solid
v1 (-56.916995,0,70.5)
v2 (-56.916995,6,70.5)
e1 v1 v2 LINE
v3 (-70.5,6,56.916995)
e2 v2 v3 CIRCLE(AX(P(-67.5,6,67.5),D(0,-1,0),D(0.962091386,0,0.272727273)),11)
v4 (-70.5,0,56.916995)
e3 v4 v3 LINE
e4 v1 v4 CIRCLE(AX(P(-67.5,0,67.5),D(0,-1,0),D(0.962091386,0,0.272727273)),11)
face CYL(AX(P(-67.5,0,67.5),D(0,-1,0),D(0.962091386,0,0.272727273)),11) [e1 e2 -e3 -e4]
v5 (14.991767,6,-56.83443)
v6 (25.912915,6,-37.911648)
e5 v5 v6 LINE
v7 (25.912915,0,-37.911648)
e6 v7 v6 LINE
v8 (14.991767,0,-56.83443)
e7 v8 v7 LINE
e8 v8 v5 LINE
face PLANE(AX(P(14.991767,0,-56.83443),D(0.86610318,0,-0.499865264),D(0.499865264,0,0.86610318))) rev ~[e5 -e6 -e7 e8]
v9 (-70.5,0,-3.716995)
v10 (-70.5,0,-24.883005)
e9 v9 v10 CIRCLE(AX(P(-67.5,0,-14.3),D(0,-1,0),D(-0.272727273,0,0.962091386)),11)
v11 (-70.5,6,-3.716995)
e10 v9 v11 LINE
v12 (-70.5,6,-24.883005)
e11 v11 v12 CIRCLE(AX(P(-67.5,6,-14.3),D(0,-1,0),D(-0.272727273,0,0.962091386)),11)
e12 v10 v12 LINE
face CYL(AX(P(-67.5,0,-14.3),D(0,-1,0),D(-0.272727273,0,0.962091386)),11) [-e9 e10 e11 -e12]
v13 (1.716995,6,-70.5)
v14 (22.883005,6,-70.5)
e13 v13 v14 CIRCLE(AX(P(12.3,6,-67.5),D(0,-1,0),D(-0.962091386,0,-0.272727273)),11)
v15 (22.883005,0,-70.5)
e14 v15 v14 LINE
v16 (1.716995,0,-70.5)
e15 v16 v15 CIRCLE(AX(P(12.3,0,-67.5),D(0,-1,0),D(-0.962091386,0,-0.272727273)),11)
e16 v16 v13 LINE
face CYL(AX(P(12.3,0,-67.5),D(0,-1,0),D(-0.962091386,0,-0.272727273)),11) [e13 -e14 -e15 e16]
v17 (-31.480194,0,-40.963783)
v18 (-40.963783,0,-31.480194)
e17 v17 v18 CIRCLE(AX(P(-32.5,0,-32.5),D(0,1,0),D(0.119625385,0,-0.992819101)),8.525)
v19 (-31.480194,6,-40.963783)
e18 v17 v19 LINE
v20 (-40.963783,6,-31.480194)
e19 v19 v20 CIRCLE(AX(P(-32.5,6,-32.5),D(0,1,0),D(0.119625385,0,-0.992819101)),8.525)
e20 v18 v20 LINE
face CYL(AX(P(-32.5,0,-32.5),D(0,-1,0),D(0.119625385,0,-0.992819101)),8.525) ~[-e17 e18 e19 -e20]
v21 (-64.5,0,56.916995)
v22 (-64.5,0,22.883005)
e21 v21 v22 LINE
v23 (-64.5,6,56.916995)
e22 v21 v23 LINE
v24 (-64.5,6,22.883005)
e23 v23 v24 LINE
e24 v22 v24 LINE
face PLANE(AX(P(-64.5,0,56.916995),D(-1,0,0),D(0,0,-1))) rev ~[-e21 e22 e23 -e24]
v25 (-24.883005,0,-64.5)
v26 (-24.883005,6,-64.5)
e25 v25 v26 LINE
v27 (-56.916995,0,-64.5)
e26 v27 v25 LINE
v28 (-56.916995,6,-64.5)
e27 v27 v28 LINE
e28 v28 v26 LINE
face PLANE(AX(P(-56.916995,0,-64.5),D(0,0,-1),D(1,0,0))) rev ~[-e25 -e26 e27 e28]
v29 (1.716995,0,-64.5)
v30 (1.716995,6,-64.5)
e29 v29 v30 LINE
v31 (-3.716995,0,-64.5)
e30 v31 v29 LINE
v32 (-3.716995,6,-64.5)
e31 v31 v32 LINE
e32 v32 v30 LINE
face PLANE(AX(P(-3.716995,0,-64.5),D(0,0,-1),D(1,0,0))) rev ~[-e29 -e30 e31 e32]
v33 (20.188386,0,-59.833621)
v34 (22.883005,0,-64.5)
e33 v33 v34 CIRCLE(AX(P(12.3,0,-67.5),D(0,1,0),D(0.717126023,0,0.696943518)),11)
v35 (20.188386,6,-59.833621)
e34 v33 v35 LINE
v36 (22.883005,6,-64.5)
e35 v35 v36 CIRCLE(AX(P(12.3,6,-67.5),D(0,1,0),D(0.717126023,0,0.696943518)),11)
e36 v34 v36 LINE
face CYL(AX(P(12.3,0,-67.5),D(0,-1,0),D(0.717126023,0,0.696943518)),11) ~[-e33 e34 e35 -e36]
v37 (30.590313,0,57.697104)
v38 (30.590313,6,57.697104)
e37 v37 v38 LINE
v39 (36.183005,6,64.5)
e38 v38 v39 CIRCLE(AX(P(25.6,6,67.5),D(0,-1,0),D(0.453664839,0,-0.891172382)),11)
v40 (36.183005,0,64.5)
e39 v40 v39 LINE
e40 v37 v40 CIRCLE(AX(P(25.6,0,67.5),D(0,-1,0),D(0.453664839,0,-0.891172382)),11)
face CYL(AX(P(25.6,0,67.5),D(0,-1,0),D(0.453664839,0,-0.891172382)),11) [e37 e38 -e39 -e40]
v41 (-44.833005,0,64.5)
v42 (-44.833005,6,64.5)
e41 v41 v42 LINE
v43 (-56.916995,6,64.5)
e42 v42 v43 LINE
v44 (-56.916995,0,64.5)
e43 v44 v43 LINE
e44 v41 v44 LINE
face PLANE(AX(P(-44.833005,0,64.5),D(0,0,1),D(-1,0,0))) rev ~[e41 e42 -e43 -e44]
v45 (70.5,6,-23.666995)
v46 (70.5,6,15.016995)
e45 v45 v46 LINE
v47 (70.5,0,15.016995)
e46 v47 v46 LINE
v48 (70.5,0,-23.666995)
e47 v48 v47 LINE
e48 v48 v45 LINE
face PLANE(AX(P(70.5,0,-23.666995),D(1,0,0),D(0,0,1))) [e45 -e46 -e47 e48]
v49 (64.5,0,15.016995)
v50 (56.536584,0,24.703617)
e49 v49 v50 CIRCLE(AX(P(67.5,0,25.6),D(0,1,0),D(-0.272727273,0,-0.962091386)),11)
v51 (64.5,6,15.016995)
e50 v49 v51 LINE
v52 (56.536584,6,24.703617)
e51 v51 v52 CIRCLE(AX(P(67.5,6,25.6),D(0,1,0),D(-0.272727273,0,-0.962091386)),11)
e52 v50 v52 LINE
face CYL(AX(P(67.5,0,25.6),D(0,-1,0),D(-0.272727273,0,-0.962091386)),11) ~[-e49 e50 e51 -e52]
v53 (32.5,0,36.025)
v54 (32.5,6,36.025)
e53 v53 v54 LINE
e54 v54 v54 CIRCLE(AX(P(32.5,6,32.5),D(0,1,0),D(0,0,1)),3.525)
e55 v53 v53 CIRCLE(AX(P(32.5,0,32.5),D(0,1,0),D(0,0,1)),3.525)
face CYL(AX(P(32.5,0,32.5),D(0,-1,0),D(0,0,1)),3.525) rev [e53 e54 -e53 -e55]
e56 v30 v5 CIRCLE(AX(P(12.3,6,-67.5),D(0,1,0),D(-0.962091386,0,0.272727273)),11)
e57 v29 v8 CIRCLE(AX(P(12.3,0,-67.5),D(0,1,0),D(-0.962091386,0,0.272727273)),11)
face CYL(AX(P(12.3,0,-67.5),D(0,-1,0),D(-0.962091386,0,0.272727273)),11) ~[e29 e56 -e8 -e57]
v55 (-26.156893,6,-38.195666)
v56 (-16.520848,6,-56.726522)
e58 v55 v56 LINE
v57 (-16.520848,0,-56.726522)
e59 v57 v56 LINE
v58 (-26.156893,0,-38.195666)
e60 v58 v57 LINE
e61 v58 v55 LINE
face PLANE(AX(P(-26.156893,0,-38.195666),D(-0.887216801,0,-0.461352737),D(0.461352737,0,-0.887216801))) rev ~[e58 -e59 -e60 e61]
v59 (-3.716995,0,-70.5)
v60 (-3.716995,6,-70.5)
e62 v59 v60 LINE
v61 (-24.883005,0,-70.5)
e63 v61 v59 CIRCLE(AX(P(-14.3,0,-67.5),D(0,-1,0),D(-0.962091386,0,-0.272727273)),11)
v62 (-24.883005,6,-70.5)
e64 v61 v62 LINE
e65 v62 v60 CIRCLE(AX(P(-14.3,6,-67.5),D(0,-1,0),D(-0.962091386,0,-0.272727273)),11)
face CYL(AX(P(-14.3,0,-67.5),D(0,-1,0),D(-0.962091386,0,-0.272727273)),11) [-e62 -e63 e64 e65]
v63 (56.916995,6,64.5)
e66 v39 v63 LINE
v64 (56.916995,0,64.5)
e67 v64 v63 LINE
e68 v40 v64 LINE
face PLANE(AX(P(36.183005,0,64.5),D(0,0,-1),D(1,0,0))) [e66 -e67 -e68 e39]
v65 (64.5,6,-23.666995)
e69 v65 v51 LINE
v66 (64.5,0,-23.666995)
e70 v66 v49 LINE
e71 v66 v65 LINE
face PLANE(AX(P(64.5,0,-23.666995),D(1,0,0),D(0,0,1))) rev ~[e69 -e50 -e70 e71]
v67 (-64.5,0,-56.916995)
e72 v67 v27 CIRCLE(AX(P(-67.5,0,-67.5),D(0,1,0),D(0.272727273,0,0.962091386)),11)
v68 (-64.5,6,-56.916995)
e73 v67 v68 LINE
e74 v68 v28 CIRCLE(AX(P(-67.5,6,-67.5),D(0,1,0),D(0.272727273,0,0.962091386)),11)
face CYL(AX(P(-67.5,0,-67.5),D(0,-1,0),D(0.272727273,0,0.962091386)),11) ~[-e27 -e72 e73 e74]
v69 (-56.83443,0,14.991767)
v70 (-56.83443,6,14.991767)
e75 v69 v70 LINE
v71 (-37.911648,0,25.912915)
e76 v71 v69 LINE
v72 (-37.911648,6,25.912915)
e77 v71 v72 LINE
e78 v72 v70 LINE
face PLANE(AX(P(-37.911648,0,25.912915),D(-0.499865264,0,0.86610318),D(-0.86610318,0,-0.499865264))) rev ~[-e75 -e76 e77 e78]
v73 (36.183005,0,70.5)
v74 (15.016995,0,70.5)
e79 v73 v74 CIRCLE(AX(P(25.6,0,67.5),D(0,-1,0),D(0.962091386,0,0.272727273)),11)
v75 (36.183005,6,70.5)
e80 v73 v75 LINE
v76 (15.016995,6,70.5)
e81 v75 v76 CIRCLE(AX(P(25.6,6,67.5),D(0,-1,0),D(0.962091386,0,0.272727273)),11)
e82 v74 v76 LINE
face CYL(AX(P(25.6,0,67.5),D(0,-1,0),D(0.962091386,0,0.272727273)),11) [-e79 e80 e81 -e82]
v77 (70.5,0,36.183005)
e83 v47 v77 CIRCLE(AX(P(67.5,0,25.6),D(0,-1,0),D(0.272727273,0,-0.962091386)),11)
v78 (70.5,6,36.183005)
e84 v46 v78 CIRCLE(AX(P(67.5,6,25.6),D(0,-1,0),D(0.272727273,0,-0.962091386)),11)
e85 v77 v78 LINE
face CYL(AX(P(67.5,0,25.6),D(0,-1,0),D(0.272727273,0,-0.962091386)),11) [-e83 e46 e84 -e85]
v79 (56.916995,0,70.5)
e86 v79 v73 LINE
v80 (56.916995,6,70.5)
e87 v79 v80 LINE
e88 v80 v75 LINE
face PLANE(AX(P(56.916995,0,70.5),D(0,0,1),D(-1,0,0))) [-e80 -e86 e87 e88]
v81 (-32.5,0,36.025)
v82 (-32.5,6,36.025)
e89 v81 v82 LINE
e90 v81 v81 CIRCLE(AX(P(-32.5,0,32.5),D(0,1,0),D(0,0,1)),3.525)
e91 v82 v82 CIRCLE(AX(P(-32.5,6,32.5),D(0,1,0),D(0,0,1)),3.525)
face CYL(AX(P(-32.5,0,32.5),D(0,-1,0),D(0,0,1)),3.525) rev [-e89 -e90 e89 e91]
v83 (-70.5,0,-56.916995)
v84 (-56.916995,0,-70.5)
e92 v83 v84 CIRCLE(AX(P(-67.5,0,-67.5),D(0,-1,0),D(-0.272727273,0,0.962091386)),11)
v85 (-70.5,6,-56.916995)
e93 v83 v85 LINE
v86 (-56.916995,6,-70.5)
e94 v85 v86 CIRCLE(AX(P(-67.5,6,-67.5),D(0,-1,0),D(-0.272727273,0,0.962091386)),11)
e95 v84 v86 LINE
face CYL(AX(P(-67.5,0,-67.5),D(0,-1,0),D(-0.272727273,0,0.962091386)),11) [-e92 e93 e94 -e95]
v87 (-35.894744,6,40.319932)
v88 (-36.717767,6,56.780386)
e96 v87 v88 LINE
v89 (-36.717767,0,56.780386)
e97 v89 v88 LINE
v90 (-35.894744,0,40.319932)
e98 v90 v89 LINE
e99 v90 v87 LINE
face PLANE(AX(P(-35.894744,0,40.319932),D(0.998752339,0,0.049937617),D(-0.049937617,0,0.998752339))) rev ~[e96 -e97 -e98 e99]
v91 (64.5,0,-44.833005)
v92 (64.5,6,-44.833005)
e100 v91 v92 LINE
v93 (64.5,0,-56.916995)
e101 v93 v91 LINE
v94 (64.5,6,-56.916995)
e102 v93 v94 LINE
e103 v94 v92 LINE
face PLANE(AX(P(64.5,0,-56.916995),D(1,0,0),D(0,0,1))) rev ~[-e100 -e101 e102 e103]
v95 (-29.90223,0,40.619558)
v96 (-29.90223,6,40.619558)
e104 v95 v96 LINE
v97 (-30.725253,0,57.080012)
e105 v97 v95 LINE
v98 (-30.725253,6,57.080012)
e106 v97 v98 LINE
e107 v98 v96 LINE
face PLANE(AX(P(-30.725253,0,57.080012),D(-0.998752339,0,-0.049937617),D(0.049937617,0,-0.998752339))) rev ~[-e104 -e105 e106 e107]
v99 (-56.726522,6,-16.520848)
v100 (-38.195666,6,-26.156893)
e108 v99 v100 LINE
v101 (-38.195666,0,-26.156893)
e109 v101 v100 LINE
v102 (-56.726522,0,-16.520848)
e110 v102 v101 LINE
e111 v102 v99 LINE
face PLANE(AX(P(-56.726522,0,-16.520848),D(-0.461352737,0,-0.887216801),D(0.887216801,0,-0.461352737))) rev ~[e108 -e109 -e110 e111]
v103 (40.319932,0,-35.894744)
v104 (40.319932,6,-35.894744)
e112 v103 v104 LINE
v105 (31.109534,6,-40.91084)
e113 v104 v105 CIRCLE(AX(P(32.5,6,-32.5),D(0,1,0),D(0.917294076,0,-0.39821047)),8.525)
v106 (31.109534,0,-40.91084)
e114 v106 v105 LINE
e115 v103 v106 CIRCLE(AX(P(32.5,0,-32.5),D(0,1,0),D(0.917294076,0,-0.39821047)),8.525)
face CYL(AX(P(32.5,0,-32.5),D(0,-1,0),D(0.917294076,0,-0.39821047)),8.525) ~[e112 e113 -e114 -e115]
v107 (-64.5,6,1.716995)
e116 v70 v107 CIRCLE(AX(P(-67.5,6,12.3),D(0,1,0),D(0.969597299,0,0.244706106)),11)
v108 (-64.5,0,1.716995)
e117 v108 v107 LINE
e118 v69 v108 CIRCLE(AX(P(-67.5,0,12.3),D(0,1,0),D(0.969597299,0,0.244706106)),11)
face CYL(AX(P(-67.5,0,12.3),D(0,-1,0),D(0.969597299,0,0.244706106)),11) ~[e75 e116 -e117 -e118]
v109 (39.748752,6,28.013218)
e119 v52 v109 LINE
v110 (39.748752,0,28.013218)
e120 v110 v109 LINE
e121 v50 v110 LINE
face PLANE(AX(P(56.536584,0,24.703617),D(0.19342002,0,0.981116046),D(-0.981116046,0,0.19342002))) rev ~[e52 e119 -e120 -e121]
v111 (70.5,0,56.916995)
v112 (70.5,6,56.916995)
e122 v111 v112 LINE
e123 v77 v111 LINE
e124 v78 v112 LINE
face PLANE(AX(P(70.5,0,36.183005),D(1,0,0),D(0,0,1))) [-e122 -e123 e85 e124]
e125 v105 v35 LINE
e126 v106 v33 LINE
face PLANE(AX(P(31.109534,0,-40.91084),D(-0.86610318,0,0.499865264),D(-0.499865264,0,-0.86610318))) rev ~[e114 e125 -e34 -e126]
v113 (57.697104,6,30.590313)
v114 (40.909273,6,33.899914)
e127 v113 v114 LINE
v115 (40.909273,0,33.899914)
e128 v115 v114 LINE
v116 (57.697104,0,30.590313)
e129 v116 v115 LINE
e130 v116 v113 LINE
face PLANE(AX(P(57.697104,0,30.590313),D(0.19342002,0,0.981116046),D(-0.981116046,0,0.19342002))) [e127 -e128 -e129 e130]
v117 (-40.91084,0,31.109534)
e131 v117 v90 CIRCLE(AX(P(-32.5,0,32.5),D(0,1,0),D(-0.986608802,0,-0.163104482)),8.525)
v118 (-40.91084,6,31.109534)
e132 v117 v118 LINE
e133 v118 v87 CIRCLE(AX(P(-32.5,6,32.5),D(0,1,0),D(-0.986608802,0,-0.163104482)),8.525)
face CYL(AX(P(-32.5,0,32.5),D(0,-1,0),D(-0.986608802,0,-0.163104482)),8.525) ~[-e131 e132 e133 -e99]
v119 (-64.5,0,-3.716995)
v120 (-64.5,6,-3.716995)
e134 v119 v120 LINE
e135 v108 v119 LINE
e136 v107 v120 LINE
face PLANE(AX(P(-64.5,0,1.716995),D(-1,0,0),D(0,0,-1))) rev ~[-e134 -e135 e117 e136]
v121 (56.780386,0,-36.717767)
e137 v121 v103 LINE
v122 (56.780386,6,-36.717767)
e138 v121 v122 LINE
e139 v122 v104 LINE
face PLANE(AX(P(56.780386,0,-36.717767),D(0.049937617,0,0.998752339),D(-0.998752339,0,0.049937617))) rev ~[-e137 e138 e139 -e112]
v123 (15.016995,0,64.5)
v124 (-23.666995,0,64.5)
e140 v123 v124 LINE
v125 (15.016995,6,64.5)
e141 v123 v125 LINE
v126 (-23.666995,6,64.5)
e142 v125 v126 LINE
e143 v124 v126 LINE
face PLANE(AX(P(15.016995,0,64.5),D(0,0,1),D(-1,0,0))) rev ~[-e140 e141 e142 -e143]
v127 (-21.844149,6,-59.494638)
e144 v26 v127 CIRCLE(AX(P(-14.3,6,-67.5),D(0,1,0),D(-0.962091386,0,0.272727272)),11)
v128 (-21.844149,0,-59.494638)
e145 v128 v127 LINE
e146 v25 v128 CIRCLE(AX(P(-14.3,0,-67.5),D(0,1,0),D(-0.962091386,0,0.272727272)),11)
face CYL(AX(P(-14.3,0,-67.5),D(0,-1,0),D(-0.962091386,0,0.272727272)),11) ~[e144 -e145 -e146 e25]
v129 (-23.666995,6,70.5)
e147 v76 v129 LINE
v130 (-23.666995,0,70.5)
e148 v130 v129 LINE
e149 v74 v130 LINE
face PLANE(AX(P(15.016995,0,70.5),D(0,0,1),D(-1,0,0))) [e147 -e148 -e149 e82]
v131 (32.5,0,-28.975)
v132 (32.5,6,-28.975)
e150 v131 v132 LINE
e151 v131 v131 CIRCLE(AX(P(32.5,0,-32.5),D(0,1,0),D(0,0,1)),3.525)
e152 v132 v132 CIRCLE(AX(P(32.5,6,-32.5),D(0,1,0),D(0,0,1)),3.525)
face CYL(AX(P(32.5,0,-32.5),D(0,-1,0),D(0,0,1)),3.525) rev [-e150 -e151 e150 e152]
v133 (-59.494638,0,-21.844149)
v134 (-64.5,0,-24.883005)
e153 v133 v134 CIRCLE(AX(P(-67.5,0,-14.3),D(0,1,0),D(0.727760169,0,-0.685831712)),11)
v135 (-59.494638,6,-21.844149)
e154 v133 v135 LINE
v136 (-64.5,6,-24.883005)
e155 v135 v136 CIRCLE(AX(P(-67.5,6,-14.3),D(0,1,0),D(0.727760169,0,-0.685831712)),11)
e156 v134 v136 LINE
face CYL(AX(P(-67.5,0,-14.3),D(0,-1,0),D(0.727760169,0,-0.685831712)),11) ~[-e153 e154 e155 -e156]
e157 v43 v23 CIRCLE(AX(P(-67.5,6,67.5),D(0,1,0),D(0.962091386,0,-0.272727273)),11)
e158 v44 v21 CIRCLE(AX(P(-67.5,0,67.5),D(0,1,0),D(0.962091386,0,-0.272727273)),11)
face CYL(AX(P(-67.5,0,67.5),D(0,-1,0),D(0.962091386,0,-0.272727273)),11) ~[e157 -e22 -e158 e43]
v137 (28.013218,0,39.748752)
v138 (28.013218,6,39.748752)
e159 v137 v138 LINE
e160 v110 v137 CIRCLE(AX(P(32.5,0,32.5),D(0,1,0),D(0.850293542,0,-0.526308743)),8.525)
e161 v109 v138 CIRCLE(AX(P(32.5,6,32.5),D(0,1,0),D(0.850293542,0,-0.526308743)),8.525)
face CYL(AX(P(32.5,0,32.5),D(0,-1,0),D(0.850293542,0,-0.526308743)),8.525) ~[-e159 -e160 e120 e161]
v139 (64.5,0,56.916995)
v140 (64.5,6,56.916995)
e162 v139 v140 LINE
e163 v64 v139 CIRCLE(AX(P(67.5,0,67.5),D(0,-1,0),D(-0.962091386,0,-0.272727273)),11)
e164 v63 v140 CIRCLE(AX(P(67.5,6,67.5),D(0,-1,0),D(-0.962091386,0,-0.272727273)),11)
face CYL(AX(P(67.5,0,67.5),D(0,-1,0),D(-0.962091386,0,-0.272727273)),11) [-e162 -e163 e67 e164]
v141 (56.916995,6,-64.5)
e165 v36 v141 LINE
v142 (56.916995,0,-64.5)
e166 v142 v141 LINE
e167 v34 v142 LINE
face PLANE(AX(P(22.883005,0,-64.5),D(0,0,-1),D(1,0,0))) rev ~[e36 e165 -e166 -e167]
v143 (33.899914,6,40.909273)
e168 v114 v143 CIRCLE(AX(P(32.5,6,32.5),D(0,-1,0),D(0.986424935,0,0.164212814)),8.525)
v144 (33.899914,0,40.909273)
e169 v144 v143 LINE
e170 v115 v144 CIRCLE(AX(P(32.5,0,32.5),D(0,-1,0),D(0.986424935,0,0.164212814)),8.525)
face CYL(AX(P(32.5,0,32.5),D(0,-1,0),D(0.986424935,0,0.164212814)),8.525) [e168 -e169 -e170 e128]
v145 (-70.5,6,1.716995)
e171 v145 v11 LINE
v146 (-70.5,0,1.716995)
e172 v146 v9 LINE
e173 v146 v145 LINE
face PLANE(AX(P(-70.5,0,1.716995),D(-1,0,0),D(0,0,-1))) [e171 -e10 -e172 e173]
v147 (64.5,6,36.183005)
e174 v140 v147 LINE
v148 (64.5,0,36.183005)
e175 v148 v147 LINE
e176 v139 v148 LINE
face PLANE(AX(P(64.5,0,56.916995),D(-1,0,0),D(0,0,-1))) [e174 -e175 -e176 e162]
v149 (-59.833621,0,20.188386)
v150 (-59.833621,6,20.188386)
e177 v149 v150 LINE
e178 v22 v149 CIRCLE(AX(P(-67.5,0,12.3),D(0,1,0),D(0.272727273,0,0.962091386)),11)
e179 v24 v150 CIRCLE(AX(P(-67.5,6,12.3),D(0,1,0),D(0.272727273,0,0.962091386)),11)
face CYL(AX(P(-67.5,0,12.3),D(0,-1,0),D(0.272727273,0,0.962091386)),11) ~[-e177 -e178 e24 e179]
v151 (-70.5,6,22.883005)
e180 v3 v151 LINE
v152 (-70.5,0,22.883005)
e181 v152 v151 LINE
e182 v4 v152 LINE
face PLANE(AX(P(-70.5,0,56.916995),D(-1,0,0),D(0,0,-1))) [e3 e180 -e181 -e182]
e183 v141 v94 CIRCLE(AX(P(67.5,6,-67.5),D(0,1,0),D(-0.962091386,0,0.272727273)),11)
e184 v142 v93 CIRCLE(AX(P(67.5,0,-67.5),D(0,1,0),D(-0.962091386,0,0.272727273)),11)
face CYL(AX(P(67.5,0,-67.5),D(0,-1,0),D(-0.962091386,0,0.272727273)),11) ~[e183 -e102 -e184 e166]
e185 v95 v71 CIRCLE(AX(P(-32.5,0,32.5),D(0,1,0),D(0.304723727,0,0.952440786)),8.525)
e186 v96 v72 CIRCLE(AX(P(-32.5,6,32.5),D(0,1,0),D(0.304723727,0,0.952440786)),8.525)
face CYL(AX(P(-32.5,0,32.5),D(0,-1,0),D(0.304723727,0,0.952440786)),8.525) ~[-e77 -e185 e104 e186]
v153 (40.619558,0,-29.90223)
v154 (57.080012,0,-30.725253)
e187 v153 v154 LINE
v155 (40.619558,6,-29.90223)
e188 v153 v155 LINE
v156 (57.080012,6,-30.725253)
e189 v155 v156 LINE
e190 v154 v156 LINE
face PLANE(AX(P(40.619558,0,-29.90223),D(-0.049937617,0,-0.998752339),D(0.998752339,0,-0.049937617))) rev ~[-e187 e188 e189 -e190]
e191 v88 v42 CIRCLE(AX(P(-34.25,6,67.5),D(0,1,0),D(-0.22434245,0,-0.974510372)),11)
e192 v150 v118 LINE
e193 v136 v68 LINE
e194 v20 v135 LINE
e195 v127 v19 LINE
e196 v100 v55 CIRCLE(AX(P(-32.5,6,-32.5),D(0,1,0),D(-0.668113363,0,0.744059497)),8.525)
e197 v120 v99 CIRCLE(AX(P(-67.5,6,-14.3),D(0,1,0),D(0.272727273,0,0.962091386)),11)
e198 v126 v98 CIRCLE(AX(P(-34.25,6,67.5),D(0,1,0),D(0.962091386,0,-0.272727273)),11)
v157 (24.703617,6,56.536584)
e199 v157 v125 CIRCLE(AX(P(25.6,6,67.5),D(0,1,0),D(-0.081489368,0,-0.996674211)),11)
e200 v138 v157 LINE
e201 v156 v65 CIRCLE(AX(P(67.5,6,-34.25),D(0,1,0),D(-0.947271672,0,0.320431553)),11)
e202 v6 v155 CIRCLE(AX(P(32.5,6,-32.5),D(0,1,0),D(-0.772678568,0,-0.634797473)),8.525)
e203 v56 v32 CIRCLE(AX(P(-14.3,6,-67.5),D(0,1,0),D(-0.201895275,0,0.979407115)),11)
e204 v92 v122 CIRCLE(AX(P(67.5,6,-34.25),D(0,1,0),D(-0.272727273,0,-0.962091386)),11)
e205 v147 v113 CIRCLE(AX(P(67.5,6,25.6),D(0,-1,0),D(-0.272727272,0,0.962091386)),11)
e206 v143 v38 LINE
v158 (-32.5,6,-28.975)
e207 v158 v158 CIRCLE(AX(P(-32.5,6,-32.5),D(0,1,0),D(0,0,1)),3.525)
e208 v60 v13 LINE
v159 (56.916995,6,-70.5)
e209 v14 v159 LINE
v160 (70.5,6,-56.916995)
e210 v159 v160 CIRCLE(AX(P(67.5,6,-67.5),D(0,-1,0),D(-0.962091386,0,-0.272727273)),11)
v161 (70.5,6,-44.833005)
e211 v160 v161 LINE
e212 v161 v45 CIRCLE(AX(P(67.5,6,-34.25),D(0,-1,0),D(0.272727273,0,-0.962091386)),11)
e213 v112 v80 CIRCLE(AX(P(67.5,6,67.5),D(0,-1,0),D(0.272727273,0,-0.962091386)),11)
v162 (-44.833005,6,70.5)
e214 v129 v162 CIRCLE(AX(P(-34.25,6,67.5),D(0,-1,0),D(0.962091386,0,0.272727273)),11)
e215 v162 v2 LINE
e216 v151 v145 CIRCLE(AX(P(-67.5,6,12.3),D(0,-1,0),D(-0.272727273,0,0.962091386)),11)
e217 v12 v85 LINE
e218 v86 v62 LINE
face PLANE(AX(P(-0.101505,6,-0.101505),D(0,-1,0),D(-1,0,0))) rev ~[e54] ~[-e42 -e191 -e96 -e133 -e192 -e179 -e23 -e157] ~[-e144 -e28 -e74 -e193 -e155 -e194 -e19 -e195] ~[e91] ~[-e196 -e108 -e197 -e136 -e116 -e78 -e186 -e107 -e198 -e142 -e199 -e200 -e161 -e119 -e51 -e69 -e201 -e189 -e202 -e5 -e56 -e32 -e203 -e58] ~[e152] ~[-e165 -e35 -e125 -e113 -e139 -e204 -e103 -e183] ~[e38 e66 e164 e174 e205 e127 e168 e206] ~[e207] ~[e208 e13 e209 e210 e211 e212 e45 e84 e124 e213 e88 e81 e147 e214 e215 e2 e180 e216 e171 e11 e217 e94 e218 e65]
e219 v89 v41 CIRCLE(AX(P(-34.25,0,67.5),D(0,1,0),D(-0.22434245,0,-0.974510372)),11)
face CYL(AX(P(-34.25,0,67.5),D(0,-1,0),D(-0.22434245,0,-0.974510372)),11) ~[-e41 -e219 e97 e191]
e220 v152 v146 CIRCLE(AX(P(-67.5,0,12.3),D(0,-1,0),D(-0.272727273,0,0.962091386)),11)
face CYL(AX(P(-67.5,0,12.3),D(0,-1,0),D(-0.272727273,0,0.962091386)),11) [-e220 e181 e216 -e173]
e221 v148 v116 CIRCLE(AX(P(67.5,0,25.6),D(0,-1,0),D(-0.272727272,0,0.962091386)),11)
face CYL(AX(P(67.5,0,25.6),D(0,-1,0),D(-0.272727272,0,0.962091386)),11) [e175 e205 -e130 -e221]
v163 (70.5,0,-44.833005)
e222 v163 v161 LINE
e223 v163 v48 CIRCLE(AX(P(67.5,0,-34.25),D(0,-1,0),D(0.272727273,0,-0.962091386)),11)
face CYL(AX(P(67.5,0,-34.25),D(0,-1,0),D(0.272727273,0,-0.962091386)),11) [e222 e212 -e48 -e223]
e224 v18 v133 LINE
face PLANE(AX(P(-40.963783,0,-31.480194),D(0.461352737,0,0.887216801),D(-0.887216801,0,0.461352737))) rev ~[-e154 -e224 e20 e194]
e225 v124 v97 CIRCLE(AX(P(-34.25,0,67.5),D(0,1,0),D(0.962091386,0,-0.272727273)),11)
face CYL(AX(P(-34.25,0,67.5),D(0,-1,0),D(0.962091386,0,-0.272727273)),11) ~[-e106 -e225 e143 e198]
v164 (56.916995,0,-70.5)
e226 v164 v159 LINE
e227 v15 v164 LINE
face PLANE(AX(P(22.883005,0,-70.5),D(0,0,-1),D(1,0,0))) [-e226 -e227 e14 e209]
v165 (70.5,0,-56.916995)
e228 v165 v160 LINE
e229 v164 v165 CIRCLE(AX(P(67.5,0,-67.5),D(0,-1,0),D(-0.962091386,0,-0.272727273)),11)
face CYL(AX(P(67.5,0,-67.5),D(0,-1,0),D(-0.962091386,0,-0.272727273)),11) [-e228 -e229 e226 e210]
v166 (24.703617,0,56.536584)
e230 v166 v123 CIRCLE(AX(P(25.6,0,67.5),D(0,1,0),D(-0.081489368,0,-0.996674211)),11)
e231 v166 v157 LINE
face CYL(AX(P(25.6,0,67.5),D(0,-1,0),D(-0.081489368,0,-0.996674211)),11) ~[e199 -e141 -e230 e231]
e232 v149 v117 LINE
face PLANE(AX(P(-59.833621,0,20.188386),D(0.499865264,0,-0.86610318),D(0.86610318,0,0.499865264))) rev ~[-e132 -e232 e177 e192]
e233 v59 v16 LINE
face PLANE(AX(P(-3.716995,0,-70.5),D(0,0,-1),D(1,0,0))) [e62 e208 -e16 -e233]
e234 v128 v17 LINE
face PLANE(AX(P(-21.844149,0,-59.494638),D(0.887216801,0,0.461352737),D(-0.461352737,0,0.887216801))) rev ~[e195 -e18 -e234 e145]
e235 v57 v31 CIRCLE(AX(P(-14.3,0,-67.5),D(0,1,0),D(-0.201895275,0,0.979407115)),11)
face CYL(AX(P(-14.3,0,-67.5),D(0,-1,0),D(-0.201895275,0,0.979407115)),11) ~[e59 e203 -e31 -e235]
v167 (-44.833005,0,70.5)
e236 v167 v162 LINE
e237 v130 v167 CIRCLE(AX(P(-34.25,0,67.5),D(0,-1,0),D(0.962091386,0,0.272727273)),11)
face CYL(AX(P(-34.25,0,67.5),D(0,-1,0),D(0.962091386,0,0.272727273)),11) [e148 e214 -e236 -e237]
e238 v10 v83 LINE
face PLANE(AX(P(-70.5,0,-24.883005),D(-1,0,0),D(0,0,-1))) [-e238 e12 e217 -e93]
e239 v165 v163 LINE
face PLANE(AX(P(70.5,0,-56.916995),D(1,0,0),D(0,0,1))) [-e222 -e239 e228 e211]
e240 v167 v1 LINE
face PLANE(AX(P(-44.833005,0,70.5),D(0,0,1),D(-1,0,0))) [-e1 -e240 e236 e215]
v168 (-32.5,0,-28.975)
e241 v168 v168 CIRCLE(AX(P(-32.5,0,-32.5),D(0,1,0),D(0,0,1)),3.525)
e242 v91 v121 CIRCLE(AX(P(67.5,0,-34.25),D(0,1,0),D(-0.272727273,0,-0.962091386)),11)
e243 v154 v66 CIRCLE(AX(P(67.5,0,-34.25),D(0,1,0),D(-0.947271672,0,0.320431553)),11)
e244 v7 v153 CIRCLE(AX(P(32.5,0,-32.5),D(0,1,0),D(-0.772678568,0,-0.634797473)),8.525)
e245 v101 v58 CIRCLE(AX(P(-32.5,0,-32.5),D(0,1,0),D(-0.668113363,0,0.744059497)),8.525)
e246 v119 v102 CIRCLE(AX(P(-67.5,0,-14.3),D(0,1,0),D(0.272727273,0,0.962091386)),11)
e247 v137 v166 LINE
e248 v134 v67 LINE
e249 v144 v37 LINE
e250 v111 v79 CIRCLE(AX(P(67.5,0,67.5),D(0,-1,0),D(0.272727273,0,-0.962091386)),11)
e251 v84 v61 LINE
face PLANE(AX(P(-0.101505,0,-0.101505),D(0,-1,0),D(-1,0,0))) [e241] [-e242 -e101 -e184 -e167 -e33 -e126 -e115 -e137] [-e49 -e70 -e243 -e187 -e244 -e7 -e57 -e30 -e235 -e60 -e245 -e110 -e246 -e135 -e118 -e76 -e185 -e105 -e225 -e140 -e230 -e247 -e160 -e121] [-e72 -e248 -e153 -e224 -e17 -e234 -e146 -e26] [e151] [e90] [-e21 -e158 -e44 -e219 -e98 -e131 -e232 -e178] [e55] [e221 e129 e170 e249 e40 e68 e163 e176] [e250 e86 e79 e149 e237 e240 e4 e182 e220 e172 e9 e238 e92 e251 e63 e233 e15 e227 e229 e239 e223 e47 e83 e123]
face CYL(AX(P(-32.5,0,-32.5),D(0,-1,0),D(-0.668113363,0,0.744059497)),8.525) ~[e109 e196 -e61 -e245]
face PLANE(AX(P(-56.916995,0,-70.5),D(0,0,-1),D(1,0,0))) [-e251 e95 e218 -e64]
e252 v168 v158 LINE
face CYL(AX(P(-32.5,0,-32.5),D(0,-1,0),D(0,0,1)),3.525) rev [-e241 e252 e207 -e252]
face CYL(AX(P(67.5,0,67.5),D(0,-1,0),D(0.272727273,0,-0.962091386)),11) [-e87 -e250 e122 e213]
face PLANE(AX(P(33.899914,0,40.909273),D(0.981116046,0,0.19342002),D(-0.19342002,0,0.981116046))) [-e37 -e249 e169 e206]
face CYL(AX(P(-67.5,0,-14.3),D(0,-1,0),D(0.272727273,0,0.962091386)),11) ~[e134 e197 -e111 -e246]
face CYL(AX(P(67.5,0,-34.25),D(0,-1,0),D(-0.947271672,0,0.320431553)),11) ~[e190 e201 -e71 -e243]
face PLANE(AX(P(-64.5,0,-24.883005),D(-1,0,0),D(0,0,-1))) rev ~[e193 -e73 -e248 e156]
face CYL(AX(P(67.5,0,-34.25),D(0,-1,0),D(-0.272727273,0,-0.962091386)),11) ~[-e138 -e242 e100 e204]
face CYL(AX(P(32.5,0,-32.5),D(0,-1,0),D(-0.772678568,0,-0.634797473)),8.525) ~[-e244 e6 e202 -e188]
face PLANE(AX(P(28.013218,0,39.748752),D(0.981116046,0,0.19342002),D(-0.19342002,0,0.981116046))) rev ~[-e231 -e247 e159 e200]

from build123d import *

# Parameters (mm, degrees)
SKETCH1_R           = 3.525
BOSS_EXTRUDE1_DEPTH = 6


with BuildPart() as part:
    # Sketch1 → Boss-Extrude1 (new body)
    with BuildSketch(Plane(origin=(0, 0, 0), x_dir=(1, 0, 0), z_dir=(0, 1, 0))):
        with BuildLine():
            Line((-56.916994756, 70.5), (-24.883005244, 70.5))
            ThreePointArc((-24.883005244, 70.5), (-14.3, 78.5), (-3.716994756, 70.5))
            Line((-3.716994756, 70.5), (1.716994756, 70.5))
            ThreePointArc((1.716994756, 70.5), (12.3, 78.5), (22.883005244, 70.5))
            Line((22.883005244, 70.5), (56.916994756, 70.5))
            ThreePointArc((56.916994756, 70.5), (75.278174593, 75.278174593), (70.5, 56.916994756))
            Line((70.5, 56.916994756), (70.5, 44.833005244))
            ThreePointArc((70.5, 44.833005244), (78.5, 34.25), (70.5, 23.666994756))
            Line((70.5, 23.666994756), (70.5, -15.016994756))
            ThreePointArc((70.5, -15.016994756), (78.5, -25.6), (70.5, -36.183005244))
            Line((70.5, -36.183005244), (70.5, -56.916994756))
            ThreePointArc((70.5, -56.916994756), (75.278174593, -75.278174593), (56.916994756, -70.5))
            Line((56.916994756, -70.5), (36.183005244, -70.5))
            ThreePointArc((36.183005244, -70.5), (25.6, -78.5), (15.016994756, -70.5))
            Line((15.016994756, -70.5), (-23.666994756, -70.5))
            ThreePointArc((-23.666994756, -70.5), (-34.25, -78.5), (-44.833005244, -70.5))
            Line((-44.833005244, -70.5), (-56.916994756, -70.5))
            ThreePointArc((-56.916994756, -70.5), (-75.278174593, -75.278174593), (-70.5, -56.916994756))
            Line((-70.5, -56.916994756), (-70.5, -22.883005244))
            ThreePointArc((-70.5, -22.883005244), (-78.5, -12.3), (-70.5, -1.716994756))
            Line((-70.5, -1.716994756), (-70.5, 3.716994756))
            ThreePointArc((-70.5, 3.716994756), (-78.5, 14.3), (-70.5, 24.883005244))
            Line((-70.5, 24.883005244), (-70.5, 56.916994756))
            ThreePointArc((-70.5, 56.916994756), (-75.278174593, 75.278174593), (-56.916994756, 70.5))
        make_face()
        with Locations(Location((-32.5, 32.5, 0), (0, 0, 270))):
            Circle(SKETCH1_R, mode=Mode.SUBTRACT)
        with Locations(Location((32.5, 32.5, 0), (0, 0, 270))):
            Circle(SKETCH1_R, mode=Mode.SUBTRACT)
        with Locations(Location((32.5, -32.5, 0), (0, 0, 270))):
            Circle(SKETCH1_R, mode=Mode.SUBTRACT)
        with Locations(Location((-32.5, -32.5, 0), (0, 0, 270))):
            Circle(SKETCH1_R, mode=Mode.SUBTRACT)
        with BuildLine():
            Line((36.183005244, -64.5), (56.916994756, -64.5))
            ThreePointArc((56.916994756, -64.5), (59.721825407, -59.721825407), (64.5, -56.916994756))
            Line((64.5, -56.916994756), (64.5, -36.183005244))
            ThreePointArc((64.5, -36.183005244), (60.514437119, -34.097170779), (57.697103802, -30.590313229))
            Line((57.697103802, -30.590313229), (40.909272567, -33.899914244))
            ThreePointArc((40.909272567, -33.899914244), (38.52808531, -38.52808531), (33.899914244, -40.909272567))
            Line((33.899914244, -40.909272567), (30.590313229, -57.697103802))
            ThreePointArc((30.590313229, -57.697103802), (34.097170779, -60.514437119), (36.183005244, -64.5))
        make_face(mode=Mode.SUBTRACT)
        with BuildLine():
            Line((-56.916994756, 64.5), (-24.883005244, 64.5))
            ThreePointArc((-24.883005244, 64.5), (-23.702757073, 61.791396017), (-21.844148835, 59.49463815))
            Line((-21.844148835, 59.49463815), (-31.480193598, 40.963782836))
            ThreePointArc((-31.480193598, 40.963782836), (-38.52808531, 38.52808531), (-40.963782836, 31.480193598))
            Line((-40.963782836, 31.480193598), (-59.49463815, 21.844148835))
            ThreePointArc((-59.49463815, 21.844148835), (-61.791396017, 23.702757073), (-64.5, 24.883005244))
            Line((-64.5, 24.883005244), (-64.5, 56.916994756))
            ThreePointArc((-64.5, 56.916994756), (-59.721825407, 59.721825407), (-56.916994756, 64.5))
        make_face(mode=Mode.SUBTRACT)
        with BuildLine():
            Line((-64.5, -56.916994756), (-64.5, -22.883005244))
            ThreePointArc((-64.5, -22.883005244), (-61.999259001, -21.825851587), (-59.833621297, -20.188386247))
            Line((-59.833621297, -20.188386247), (-40.910840036, -31.10953429))
            ThreePointArc((-40.910840036, -31.10953429), (-39.986708997, -36.577353724), (-35.894744259, -40.319931996))
            Line((-35.894744259, -40.319931996), (-36.717766955, -56.780385909))
            ThreePointArc((-36.717766955, -56.780385909), (-41.831475725, -59.529979559), (-44.833005244, -64.5))
            Line((-44.833005244, -64.5), (-56.916994756, -64.5))
            ThreePointArc((-56.916994756, -64.5), (-59.721825407, -59.721825407), (-64.5, -56.916994756))
        make_face(mode=Mode.SUBTRACT)
        with BuildLine():
            Line((-3.716994756, 64.5), (1.716994756, 64.5))
            ThreePointArc((1.716994756, 64.5), (6.799259001, 57.974148413), (14.991767169, 56.834429715))
            Line((14.991767169, 56.834429715), (25.912915211, 37.911648453))
            ThreePointArc((25.912915211, 37.911648453), (28.422646276, 25.013291003), (40.619557697, 29.902230226))
            Line((40.619557697, 29.902230226), (57.080011611, 30.725252921))
            ThreePointArc((57.080011611, 30.725252921), (59.918524275, 26.279979559), (64.5, 23.666994756))
            Line((64.5, 23.666994756), (64.5, -15.016994756))
            ThreePointArc((64.5, -15.016994756), (59.002829221, -18.614437119), (56.536583679, -24.703616953))
            Line((56.536583679, -24.703616953), (39.748752444, -28.013217968))
            ThreePointArc((39.748752444, -28.013217968), (26.47191469, -26.47191469), (28.013217968, -39.748752444))
            Line((28.013217968, -39.748752444), (24.703616953, -56.536583679))
            ThreePointArc((24.703616953, -56.536583679), (18.614437119, -59.002829221), (15.016994756, -64.5))
            Line((15.016994756, -64.5), (-23.666994756, -64.5))
            ThreePointArc((-23.666994756, -64.5), (-26.279979559, -59.918524275), (-30.725252921, -57.080011611))
            Line((-30.725252921, -57.080011611), (-29.902230226, -40.619557697))
            ThreePointArc((-29.902230226, -40.619557697), (-25.013291003, -28.422646276), (-37.911648453, -25.912915211))
            Line((-37.911648453, -25.912915211), (-56.834429715, -14.991767169))
            ThreePointArc((-56.834429715, -14.991767169), (-57.974148413, -6.799259001), (-64.5, -1.716994756))
            Line((-64.5, -1.716994756), (-64.5, 3.716994756))
            ThreePointArc((-64.5, 3.716994756), (-58.097242927, 8.591396017), (-56.72652173, 16.520848028))
            Line((-56.72652173, 16.520848028), (-38.195666417, 26.156892791))
            ThreePointArc((-38.195666417, 26.156892791), (-26.47191469, 26.47191469), (-26.156892791, 38.195666417))
            Line((-26.156892791, 38.195666417), (-16.520848028, 56.72652173))
            ThreePointArc((-16.520848028, 56.72652173), (-8.591396017, 58.097242927), (-3.716994756, 64.5))
        make_face(mode=Mode.SUBTRACT)
        with BuildLine():
            Line((22.883005244, 64.5), (56.916994756, 64.5))
            ThreePointArc((56.916994756, 64.5), (59.721825407, 59.721825407), (64.5, 56.916994756))
            Line((64.5, 56.916994756), (64.5, 44.833005244))
            ThreePointArc((64.5, 44.833005244), (59.529979559, 41.831475725), (56.780385909, 36.717766955))
            Line((56.780385909, 36.717766955), (40.319931996, 35.894744259))
            ThreePointArc((40.319931996, 35.894744259), (36.577353724, 39.986708997), (31.10953429, 40.910840036))
            Line((31.10953429, 40.910840036), (20.188386247, 59.833621297))
            ThreePointArc((20.188386247, 59.833621297), (21.825851587, 61.999259001), (22.883005244, 64.5))
        make_face(mode=Mode.SUBTRACT)
    extrude(amount=BOSS_EXTRUDE1_DEPTH)


solid = part.part
